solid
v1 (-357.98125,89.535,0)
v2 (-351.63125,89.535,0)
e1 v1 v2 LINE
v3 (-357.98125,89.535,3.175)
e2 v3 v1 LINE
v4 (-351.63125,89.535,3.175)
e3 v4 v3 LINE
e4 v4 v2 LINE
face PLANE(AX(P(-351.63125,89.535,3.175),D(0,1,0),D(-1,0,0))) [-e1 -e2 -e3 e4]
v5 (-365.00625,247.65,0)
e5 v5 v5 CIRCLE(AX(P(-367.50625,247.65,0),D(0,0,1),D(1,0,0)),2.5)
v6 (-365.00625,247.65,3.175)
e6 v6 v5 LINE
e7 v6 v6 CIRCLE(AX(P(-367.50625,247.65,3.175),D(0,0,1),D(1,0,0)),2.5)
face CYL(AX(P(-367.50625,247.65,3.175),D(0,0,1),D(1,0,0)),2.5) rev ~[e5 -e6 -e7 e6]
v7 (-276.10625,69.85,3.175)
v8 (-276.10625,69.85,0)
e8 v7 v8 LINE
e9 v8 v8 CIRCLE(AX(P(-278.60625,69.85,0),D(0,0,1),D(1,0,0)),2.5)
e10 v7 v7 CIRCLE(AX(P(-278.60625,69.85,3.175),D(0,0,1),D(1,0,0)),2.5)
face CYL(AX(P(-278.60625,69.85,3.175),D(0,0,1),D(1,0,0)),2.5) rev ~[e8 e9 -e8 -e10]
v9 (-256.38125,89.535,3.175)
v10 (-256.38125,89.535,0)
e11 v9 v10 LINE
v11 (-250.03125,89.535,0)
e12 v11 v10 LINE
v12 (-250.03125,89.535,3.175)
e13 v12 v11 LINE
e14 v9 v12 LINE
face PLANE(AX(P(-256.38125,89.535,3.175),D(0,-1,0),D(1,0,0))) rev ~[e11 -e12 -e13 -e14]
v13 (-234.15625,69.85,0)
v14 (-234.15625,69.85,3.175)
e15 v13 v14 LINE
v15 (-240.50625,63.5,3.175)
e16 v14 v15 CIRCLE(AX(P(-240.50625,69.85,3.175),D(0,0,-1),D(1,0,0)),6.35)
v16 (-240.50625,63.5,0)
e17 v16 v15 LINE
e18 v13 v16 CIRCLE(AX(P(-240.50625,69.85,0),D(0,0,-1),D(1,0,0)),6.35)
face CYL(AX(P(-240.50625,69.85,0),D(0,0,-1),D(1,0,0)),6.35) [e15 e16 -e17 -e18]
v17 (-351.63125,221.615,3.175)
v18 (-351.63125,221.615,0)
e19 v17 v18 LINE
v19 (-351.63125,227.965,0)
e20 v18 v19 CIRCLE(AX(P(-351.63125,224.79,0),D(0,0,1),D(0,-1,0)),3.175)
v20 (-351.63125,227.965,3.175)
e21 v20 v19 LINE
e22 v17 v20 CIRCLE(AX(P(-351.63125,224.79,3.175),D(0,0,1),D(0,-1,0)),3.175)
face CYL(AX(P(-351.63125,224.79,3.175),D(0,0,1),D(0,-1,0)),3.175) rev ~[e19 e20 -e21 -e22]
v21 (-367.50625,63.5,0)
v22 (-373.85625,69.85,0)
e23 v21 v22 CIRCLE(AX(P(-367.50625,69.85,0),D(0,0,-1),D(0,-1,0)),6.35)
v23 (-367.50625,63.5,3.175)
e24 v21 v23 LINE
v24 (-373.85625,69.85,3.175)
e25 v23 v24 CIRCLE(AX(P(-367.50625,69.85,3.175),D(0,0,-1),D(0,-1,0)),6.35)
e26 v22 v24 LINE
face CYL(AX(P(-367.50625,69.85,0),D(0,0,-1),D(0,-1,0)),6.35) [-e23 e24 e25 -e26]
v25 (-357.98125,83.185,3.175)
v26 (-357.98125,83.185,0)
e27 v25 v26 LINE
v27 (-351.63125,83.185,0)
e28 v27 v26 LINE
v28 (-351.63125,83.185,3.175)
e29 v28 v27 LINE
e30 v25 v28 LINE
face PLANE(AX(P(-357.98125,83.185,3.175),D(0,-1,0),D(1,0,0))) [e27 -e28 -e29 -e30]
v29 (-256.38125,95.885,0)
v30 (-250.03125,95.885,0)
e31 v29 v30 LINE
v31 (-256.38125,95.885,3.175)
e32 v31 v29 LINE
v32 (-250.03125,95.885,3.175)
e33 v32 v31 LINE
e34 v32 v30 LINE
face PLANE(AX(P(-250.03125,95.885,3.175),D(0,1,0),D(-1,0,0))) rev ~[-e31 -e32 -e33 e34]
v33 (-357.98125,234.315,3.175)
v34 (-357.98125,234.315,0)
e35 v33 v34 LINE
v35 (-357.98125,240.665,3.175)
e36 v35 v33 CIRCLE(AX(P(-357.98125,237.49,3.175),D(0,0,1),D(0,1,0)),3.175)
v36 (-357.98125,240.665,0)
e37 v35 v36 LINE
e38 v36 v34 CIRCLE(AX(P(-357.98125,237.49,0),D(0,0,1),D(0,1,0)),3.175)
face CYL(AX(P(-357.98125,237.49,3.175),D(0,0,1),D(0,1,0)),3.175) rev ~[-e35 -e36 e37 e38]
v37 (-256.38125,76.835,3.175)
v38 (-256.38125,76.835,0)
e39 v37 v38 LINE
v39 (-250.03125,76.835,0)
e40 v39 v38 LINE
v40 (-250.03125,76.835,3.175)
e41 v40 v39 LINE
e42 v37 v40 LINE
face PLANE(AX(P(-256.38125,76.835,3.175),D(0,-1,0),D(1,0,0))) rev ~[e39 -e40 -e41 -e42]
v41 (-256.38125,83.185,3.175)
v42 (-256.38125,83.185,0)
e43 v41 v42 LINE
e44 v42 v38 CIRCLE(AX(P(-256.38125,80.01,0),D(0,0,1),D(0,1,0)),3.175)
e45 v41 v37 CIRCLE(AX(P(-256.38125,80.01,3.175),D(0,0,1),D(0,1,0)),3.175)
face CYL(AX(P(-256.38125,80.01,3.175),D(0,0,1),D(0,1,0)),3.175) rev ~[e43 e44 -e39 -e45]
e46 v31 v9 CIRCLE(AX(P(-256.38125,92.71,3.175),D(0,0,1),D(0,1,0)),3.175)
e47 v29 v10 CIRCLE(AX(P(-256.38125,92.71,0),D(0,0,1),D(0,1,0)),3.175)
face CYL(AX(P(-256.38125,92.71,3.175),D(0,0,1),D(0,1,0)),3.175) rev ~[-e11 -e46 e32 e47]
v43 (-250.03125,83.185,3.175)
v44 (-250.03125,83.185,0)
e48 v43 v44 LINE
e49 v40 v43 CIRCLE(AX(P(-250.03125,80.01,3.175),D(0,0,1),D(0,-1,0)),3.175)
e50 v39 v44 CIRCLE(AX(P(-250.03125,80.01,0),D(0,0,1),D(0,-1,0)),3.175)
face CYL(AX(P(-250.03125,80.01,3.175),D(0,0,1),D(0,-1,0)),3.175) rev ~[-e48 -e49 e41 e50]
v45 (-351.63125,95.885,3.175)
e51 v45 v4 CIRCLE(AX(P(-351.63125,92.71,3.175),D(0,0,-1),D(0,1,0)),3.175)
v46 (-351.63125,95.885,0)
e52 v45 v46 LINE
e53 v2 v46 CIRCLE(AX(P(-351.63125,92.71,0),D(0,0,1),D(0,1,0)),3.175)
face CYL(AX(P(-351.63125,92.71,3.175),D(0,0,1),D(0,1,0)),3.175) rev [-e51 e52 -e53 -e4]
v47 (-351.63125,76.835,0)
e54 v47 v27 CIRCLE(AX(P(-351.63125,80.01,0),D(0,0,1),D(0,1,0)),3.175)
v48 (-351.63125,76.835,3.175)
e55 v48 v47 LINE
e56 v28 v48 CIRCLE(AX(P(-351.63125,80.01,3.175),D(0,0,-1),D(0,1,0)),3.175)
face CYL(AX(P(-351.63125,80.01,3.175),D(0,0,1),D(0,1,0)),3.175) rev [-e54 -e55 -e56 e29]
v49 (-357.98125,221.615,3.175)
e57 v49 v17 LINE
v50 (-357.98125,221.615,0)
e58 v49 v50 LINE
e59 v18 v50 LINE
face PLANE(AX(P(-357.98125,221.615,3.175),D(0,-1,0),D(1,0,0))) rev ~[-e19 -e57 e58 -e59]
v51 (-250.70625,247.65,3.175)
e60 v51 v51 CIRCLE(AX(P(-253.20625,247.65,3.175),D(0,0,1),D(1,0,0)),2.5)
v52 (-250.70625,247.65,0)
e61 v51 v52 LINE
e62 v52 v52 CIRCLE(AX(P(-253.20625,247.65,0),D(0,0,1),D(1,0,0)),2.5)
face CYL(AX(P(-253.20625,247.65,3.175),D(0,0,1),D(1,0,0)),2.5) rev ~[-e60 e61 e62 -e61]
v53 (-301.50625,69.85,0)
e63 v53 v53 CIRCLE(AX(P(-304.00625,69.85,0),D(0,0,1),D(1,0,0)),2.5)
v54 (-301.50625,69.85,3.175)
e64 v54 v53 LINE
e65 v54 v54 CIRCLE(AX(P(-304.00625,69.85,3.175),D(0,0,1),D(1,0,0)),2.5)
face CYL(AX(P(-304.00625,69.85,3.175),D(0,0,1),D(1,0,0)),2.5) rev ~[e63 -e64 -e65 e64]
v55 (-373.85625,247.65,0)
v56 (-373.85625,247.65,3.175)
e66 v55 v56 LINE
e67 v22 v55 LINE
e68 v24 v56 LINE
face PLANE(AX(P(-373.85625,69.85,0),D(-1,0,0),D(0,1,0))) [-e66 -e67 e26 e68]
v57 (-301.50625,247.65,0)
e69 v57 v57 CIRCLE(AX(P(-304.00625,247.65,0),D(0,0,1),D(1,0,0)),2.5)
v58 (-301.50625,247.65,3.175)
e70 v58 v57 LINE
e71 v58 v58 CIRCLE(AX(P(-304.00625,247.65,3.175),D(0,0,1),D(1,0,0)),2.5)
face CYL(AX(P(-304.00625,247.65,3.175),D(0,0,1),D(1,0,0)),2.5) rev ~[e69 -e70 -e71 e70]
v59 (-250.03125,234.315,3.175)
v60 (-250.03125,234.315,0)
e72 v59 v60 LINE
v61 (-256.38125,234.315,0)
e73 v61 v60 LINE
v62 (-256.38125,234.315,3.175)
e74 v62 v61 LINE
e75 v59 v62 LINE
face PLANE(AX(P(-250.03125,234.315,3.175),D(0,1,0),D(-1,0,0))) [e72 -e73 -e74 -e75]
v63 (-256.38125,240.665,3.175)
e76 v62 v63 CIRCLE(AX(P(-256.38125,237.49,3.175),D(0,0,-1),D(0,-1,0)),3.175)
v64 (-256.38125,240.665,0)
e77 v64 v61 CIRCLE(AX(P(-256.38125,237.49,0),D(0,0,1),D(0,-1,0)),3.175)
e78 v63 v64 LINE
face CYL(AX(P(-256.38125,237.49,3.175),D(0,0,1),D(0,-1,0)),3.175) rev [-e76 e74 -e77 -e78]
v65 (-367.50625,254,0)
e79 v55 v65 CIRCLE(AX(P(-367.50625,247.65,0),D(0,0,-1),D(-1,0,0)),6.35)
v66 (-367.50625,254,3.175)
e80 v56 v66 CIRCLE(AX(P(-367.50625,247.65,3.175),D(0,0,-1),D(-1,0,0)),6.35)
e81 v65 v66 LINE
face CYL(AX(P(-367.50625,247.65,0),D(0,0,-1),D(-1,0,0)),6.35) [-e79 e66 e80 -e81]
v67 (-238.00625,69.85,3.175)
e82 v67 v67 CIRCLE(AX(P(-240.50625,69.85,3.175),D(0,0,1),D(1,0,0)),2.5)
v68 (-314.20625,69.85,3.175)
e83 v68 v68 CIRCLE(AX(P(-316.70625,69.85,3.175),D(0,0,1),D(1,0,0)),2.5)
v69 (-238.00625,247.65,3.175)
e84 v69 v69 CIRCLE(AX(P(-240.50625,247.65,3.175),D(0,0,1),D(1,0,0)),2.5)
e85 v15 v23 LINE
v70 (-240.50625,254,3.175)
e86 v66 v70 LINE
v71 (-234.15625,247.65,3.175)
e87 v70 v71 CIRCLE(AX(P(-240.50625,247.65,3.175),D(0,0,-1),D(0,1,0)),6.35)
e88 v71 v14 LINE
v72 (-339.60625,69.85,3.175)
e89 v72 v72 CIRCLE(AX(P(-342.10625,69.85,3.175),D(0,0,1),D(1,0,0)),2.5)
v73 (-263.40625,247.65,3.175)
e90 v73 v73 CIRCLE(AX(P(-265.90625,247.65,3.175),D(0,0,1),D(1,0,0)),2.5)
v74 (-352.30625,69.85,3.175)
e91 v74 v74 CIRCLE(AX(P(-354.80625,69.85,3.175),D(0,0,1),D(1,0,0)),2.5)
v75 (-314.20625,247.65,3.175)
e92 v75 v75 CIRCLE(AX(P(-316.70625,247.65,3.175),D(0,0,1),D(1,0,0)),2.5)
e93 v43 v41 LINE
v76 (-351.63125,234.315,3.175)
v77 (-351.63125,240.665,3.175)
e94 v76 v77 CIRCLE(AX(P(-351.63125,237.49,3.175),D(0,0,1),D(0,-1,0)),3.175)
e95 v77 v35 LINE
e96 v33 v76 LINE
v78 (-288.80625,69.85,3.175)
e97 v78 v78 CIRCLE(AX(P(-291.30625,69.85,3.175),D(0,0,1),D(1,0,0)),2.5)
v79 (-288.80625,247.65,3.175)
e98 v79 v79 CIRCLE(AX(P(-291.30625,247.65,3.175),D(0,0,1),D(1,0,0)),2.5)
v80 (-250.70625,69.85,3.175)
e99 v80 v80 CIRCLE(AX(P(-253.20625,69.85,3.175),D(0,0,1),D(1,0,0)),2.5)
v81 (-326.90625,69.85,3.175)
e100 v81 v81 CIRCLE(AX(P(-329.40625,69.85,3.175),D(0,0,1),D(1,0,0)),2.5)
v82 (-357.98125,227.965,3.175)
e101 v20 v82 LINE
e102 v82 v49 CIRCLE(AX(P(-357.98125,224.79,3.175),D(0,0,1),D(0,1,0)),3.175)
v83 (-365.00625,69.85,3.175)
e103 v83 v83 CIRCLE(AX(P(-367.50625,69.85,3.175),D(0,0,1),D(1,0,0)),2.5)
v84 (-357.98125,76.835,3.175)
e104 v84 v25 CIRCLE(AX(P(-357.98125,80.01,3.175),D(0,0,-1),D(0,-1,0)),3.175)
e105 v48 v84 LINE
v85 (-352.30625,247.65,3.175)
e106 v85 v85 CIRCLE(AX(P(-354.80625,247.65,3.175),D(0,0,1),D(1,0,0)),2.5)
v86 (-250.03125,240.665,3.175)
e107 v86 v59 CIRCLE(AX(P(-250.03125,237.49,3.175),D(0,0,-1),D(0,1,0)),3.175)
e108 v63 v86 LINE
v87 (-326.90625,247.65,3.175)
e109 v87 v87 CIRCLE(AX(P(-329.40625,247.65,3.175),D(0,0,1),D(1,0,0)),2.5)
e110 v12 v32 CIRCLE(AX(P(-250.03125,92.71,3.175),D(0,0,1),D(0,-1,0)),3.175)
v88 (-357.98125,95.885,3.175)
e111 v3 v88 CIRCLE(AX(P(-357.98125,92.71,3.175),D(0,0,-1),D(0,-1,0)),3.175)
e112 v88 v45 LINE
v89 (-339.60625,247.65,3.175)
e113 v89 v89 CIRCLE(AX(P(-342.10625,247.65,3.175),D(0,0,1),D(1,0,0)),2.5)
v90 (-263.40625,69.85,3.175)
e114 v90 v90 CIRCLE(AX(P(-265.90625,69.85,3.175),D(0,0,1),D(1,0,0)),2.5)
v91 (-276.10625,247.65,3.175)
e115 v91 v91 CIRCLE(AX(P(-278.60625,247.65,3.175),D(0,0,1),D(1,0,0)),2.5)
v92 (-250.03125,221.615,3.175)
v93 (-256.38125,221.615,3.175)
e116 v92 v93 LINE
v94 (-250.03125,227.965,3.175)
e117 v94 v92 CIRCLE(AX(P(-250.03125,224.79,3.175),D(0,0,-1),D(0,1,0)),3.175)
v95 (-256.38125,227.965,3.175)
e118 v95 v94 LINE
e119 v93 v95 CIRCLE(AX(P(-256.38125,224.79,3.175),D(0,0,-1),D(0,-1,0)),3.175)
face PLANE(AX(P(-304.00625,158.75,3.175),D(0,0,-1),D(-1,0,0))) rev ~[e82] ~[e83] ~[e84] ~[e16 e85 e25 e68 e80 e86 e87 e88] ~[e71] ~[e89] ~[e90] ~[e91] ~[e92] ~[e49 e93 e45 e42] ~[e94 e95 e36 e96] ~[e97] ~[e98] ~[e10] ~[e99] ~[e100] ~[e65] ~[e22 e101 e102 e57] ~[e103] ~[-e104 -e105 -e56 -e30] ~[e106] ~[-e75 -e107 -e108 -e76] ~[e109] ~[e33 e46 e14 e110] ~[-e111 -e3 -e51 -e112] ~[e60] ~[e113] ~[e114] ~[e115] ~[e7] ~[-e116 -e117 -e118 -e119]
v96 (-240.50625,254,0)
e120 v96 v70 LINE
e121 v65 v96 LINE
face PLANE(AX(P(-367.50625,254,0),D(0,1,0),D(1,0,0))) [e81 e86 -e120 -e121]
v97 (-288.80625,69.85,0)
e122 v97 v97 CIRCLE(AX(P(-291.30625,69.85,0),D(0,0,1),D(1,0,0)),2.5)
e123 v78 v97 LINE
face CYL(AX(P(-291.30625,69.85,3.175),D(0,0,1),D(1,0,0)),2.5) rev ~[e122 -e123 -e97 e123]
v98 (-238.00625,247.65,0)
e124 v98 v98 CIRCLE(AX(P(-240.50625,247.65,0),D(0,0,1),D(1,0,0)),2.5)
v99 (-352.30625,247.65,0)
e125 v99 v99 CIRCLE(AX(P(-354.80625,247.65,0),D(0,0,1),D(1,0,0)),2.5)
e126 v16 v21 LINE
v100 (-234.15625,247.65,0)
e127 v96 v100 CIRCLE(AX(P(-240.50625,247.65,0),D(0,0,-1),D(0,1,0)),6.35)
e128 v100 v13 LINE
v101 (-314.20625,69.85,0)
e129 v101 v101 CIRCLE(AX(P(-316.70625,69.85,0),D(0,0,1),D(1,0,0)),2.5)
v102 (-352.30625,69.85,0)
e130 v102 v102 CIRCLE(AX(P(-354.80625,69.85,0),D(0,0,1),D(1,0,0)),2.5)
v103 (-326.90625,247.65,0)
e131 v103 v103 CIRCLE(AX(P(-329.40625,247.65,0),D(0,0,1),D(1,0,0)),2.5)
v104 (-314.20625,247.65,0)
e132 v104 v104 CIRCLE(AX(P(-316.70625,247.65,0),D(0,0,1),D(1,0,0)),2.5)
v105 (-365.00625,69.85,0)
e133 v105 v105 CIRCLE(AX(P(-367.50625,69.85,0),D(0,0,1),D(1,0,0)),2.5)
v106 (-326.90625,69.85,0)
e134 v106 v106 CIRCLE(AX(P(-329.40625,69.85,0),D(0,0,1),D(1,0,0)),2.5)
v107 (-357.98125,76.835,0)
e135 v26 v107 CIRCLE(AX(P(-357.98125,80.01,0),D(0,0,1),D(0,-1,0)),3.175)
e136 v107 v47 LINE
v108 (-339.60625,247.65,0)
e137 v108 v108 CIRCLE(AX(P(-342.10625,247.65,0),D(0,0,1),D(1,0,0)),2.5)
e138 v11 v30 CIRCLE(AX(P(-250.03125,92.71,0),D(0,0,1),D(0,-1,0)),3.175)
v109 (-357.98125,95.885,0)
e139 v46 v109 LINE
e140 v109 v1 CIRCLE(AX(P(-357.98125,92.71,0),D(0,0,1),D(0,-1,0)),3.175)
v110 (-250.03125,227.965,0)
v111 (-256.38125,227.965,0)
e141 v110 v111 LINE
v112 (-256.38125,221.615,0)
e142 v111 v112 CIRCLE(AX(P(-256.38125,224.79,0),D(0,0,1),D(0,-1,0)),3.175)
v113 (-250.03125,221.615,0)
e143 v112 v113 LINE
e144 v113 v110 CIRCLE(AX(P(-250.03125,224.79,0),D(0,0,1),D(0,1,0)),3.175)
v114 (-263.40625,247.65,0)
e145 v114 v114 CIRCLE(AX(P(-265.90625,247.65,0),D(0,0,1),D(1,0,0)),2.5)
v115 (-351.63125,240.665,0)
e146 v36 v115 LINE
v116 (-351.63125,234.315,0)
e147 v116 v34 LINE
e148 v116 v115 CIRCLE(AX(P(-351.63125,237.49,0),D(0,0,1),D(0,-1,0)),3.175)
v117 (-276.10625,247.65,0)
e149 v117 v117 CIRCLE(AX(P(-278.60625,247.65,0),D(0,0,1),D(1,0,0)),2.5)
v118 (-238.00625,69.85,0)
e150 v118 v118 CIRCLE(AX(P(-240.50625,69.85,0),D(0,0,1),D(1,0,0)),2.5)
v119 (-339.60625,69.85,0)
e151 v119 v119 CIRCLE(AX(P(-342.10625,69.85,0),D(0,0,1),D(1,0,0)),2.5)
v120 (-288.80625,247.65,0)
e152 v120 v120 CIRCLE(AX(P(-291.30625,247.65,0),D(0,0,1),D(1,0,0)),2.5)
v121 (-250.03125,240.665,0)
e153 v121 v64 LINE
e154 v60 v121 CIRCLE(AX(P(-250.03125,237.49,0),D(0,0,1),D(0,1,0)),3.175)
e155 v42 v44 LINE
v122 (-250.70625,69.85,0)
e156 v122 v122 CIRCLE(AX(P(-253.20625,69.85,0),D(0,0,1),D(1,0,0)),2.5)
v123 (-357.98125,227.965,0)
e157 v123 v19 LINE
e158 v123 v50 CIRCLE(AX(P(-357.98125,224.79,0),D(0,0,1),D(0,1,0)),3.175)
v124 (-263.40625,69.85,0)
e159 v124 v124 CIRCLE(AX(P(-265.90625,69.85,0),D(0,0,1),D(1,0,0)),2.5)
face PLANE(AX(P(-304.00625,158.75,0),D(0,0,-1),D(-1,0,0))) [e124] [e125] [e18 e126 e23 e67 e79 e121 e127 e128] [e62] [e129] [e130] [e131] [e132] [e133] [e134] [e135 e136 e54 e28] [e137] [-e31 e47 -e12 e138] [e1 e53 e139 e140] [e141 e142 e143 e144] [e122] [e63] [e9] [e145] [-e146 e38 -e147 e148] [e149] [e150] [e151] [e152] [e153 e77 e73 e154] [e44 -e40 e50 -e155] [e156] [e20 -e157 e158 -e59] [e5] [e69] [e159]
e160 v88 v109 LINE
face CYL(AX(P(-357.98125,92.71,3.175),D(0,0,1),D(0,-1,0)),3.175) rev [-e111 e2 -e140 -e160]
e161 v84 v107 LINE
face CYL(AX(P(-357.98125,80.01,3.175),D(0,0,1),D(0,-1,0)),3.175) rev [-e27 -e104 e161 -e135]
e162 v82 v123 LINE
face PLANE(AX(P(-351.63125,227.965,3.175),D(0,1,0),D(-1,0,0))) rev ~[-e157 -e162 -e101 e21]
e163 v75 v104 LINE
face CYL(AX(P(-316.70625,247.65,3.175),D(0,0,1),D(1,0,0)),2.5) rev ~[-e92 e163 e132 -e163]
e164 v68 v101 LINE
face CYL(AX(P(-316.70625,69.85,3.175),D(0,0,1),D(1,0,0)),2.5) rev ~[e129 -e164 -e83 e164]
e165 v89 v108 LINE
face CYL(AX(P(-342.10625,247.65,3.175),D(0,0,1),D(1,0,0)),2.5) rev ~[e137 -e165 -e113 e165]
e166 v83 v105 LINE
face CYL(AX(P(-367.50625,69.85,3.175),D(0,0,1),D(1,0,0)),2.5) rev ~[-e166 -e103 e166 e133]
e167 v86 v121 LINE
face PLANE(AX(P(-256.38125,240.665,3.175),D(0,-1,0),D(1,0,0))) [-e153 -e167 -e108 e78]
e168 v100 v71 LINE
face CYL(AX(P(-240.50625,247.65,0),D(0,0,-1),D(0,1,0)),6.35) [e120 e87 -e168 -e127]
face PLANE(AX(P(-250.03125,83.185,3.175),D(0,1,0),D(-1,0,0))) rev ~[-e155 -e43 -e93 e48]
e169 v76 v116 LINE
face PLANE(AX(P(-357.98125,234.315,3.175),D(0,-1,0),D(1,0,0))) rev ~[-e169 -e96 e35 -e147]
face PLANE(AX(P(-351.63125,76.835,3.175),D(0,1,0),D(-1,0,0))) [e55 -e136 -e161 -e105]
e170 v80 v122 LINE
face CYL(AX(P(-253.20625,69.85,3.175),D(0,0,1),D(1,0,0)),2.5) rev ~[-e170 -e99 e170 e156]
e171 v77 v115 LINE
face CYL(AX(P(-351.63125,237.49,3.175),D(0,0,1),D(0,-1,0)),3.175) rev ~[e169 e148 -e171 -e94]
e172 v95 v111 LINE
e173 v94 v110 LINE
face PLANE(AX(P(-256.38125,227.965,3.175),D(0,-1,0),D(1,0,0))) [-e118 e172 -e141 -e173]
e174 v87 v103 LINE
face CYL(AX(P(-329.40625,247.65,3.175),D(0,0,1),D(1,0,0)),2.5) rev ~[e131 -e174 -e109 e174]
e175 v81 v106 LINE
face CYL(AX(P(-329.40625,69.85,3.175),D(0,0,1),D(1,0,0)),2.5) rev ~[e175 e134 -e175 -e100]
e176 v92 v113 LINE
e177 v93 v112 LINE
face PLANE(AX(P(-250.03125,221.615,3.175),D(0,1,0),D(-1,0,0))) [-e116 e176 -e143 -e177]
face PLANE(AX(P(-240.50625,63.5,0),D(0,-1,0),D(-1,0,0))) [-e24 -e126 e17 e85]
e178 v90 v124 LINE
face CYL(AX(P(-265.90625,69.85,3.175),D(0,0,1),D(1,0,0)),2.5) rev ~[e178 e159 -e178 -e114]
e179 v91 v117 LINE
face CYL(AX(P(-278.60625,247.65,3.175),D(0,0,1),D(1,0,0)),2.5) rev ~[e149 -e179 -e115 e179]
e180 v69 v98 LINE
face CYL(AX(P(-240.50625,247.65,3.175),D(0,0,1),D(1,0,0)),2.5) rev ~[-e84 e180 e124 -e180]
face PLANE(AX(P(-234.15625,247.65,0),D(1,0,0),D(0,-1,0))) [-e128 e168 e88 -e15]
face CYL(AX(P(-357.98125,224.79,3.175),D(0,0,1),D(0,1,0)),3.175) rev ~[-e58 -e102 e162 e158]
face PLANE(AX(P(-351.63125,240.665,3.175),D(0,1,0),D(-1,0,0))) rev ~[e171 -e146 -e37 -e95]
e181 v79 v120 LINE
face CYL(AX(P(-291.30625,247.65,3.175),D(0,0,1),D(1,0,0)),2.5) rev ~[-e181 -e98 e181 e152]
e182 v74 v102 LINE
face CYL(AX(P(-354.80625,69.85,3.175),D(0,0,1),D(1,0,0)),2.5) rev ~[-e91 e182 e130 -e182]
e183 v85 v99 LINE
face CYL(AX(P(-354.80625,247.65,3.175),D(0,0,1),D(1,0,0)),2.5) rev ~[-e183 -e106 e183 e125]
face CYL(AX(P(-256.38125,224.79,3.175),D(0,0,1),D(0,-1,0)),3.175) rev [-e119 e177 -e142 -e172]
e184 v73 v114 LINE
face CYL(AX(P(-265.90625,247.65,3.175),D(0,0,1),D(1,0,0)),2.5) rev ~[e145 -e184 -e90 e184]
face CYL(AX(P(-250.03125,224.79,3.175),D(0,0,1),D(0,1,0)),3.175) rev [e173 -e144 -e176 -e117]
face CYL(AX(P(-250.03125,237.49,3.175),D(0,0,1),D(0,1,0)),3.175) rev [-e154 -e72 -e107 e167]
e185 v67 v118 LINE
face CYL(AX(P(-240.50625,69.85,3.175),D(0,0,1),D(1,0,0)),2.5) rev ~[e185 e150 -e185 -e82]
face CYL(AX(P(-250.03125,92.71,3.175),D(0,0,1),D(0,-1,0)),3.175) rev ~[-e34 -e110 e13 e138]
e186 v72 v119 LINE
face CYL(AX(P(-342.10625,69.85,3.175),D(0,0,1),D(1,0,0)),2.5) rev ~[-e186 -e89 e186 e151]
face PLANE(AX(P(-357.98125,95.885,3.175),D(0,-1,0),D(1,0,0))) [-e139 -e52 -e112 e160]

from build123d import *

# Parameters (mm, degrees)
BOSS_EXTRUDE1_DEPTH = 3.175
SKETCH3_R           = 2.5
CUT_EXTRUDE2_DEPTH  = 452.989575421
CUT_EXTRUDE3_DEPTH  = 452.989575421


with BuildPart() as part:
    # Sketch1 → Boss-Extrude1 (new body)
    with BuildSketch(Plane.XY):
        with BuildLine():
            Line((-367.50625, 254), (-240.50625, 254))
            ThreePointArc((-240.50625, 254), (-236.016121939, 252.140128061), (-234.15625, 247.65))
            Line((-234.15625, 247.65), (-234.15625, 69.85))
            ThreePointArc((-234.15625, 69.85), (-236.016121939, 65.359871939), (-240.50625, 63.5))
            Line((-240.50625, 63.5), (-367.50625, 63.5))
            ThreePointArc((-367.50625, 63.5), (-371.996378061, 65.359871939), (-373.85625, 69.85))
            Line((-373.85625, 69.85), (-373.85625, 247.65))
            ThreePointArc((-373.85625, 247.65), (-371.996378061, 252.140128061), (-367.50625, 254))
        make_face()
    extrude(amount=BOSS_EXTRUDE1_DEPTH)

    # Sketch3 → Cut-Extrude2 (cut, through all)
    with BuildSketch(Plane.XY.offset(3.175)):
        with Locations((-367.50625, 247.65)):
            Circle(SKETCH3_R)
        with Locations((-367.50625, 69.85)):
            Circle(SKETCH3_R)
        with Locations((-354.80625, 247.65)):
            Circle(SKETCH3_R)
        with Locations((-354.80625, 69.85)):
            Circle(SKETCH3_R)
        with Locations((-342.10625, 247.65)):
            Circle(SKETCH3_R)
        with Locations((-342.10625, 69.85)):
            Circle(SKETCH3_R)
        with Locations((-329.40625, 247.65)):
            Circle(SKETCH3_R)
        with Locations((-329.40625, 69.85)):
            Circle(SKETCH3_R)
        with Locations((-316.70625, 247.65)):
            Circle(SKETCH3_R)
        with Locations((-316.70625, 69.85)):
            Circle(SKETCH3_R)
        with Locations((-304.00625, 247.65)):
            Circle(SKETCH3_R)
        with Locations((-304.00625, 69.85)):
            Circle(SKETCH3_R)
        with Locations((-291.30625, 247.65)):
            Circle(SKETCH3_R)
        with Locations((-291.30625, 69.85)):
            Circle(SKETCH3_R)
        with Locations((-278.60625, 247.65)):
            Circle(SKETCH3_R)
        with Locations((-278.60625, 69.85)):
            Circle(SKETCH3_R)
        with Locations((-265.90625, 247.65)):
            Circle(SKETCH3_R)
        with Locations((-265.90625, 69.85)):
            Circle(SKETCH3_R)
        with Locations((-253.20625, 247.65)):
            Circle(SKETCH3_R)
        with Locations((-253.20625, 69.85)):
            Circle(SKETCH3_R)
        with Locations((-240.50625, 247.65)):
            Circle(SKETCH3_R)
        with Locations((-240.50625, 69.85)):
            Circle(SKETCH3_R)
    extrude(amount=-CUT_EXTRUDE2_DEPTH, mode=Mode.SUBTRACT)

    # Sketch4 → Cut-Extrude3 (cut, through all)
    with BuildSketch(Plane.XY.offset(3.175)):
        with BuildLine():
            Line((-351.63125, 240.665), (-357.98125, 240.665))
            ThreePointArc((-357.98125, 240.665), (-361.15625, 237.49), (-357.98125, 234.315))
            Line((-357.98125, 234.315), (-351.63125, 234.315))
            ThreePointArc((-351.63125, 234.315), (-348.45625, 237.49), (-351.63125, 240.665))
        make_face()
        with BuildLine():
            Line((-351.63125, 227.965), (-357.98125, 227.965))
            ThreePointArc((-357.98125, 227.965), (-361.15625, 224.79), (-357.98125, 221.615))
            Line((-357.98125, 221.615), (-351.63125, 221.615))
            ThreePointArc((-351.63125, 221.615), (-348.45625, 224.79), (-351.63125, 227.965))
        make_face()
        with BuildLine():
            ThreePointArc((-250.03125, 234.315), (-246.85625, 237.49), (-250.03125, 240.665))
            Line((-250.03125, 240.665), (-256.38125, 240.665))
            ThreePointArc((-256.38125, 240.665), (-259.55625, 237.49), (-256.38125, 234.315))
            Line((-256.38125, 234.315), (-250.03125, 234.315))
        make_face()
        with BuildLine():
            ThreePointArc((-250.03125, 221.615), (-246.85625, 224.79), (-250.03125, 227.965))
            Line((-250.03125, 227.965), (-256.38125, 227.965))
            ThreePointArc((-256.38125, 227.965), (-259.55625, 224.79), (-256.38125, 221.615))
            Line((-256.38125, 221.615), (-250.03125, 221.615))
        make_face()
        with BuildLine():
            Line((-256.38125, 89.535), (-250.03125, 89.535))
            ThreePointArc((-250.03125, 89.535), (-246.85625, 92.71), (-250.03125, 95.885))
            Line((-250.03125, 95.885), (-256.38125, 95.885))
            ThreePointArc((-256.38125, 95.885), (-259.55625, 92.71), (-256.38125, 89.535))
        make_face()
        with BuildLine():
            Line((-256.38125, 76.835), (-250.03125, 76.835))
            ThreePointArc((-250.03125, 76.835), (-246.85625, 80.01), (-250.03125, 83.185))
            Line((-250.03125, 83.185), (-256.38125, 83.185))
            ThreePointArc((-256.38125, 83.185), (-259.55625, 80.01), (-256.38125, 76.835))
        make_face()
        with BuildLine():
            ThreePointArc((-357.98125, 95.885), (-361.15625, 92.71), (-357.98125, 89.535))
            Line((-357.98125, 89.535), (-351.63125, 89.535))
            ThreePointArc((-351.63125, 89.535), (-348.45625, 92.71), (-351.63125, 95.885))
            Line((-351.63125, 95.885), (-357.98125, 95.885))
        make_face()
        with BuildLine():
            ThreePointArc((-357.98125, 83.185), (-361.15625, 80.01), (-357.98125, 76.835))
            Line((-357.98125, 76.835), (-351.63125, 76.835))
            ThreePointArc((-351.63125, 76.835), (-348.45625, 80.01), (-351.63125, 83.185))
            Line((-351.63125, 83.185), (-357.98125, 83.185))
        make_face()
    extrude(amount=-CUT_EXTRUDE3_DEPTH, mode=Mode.SUBTRACT)


solid = part.part
